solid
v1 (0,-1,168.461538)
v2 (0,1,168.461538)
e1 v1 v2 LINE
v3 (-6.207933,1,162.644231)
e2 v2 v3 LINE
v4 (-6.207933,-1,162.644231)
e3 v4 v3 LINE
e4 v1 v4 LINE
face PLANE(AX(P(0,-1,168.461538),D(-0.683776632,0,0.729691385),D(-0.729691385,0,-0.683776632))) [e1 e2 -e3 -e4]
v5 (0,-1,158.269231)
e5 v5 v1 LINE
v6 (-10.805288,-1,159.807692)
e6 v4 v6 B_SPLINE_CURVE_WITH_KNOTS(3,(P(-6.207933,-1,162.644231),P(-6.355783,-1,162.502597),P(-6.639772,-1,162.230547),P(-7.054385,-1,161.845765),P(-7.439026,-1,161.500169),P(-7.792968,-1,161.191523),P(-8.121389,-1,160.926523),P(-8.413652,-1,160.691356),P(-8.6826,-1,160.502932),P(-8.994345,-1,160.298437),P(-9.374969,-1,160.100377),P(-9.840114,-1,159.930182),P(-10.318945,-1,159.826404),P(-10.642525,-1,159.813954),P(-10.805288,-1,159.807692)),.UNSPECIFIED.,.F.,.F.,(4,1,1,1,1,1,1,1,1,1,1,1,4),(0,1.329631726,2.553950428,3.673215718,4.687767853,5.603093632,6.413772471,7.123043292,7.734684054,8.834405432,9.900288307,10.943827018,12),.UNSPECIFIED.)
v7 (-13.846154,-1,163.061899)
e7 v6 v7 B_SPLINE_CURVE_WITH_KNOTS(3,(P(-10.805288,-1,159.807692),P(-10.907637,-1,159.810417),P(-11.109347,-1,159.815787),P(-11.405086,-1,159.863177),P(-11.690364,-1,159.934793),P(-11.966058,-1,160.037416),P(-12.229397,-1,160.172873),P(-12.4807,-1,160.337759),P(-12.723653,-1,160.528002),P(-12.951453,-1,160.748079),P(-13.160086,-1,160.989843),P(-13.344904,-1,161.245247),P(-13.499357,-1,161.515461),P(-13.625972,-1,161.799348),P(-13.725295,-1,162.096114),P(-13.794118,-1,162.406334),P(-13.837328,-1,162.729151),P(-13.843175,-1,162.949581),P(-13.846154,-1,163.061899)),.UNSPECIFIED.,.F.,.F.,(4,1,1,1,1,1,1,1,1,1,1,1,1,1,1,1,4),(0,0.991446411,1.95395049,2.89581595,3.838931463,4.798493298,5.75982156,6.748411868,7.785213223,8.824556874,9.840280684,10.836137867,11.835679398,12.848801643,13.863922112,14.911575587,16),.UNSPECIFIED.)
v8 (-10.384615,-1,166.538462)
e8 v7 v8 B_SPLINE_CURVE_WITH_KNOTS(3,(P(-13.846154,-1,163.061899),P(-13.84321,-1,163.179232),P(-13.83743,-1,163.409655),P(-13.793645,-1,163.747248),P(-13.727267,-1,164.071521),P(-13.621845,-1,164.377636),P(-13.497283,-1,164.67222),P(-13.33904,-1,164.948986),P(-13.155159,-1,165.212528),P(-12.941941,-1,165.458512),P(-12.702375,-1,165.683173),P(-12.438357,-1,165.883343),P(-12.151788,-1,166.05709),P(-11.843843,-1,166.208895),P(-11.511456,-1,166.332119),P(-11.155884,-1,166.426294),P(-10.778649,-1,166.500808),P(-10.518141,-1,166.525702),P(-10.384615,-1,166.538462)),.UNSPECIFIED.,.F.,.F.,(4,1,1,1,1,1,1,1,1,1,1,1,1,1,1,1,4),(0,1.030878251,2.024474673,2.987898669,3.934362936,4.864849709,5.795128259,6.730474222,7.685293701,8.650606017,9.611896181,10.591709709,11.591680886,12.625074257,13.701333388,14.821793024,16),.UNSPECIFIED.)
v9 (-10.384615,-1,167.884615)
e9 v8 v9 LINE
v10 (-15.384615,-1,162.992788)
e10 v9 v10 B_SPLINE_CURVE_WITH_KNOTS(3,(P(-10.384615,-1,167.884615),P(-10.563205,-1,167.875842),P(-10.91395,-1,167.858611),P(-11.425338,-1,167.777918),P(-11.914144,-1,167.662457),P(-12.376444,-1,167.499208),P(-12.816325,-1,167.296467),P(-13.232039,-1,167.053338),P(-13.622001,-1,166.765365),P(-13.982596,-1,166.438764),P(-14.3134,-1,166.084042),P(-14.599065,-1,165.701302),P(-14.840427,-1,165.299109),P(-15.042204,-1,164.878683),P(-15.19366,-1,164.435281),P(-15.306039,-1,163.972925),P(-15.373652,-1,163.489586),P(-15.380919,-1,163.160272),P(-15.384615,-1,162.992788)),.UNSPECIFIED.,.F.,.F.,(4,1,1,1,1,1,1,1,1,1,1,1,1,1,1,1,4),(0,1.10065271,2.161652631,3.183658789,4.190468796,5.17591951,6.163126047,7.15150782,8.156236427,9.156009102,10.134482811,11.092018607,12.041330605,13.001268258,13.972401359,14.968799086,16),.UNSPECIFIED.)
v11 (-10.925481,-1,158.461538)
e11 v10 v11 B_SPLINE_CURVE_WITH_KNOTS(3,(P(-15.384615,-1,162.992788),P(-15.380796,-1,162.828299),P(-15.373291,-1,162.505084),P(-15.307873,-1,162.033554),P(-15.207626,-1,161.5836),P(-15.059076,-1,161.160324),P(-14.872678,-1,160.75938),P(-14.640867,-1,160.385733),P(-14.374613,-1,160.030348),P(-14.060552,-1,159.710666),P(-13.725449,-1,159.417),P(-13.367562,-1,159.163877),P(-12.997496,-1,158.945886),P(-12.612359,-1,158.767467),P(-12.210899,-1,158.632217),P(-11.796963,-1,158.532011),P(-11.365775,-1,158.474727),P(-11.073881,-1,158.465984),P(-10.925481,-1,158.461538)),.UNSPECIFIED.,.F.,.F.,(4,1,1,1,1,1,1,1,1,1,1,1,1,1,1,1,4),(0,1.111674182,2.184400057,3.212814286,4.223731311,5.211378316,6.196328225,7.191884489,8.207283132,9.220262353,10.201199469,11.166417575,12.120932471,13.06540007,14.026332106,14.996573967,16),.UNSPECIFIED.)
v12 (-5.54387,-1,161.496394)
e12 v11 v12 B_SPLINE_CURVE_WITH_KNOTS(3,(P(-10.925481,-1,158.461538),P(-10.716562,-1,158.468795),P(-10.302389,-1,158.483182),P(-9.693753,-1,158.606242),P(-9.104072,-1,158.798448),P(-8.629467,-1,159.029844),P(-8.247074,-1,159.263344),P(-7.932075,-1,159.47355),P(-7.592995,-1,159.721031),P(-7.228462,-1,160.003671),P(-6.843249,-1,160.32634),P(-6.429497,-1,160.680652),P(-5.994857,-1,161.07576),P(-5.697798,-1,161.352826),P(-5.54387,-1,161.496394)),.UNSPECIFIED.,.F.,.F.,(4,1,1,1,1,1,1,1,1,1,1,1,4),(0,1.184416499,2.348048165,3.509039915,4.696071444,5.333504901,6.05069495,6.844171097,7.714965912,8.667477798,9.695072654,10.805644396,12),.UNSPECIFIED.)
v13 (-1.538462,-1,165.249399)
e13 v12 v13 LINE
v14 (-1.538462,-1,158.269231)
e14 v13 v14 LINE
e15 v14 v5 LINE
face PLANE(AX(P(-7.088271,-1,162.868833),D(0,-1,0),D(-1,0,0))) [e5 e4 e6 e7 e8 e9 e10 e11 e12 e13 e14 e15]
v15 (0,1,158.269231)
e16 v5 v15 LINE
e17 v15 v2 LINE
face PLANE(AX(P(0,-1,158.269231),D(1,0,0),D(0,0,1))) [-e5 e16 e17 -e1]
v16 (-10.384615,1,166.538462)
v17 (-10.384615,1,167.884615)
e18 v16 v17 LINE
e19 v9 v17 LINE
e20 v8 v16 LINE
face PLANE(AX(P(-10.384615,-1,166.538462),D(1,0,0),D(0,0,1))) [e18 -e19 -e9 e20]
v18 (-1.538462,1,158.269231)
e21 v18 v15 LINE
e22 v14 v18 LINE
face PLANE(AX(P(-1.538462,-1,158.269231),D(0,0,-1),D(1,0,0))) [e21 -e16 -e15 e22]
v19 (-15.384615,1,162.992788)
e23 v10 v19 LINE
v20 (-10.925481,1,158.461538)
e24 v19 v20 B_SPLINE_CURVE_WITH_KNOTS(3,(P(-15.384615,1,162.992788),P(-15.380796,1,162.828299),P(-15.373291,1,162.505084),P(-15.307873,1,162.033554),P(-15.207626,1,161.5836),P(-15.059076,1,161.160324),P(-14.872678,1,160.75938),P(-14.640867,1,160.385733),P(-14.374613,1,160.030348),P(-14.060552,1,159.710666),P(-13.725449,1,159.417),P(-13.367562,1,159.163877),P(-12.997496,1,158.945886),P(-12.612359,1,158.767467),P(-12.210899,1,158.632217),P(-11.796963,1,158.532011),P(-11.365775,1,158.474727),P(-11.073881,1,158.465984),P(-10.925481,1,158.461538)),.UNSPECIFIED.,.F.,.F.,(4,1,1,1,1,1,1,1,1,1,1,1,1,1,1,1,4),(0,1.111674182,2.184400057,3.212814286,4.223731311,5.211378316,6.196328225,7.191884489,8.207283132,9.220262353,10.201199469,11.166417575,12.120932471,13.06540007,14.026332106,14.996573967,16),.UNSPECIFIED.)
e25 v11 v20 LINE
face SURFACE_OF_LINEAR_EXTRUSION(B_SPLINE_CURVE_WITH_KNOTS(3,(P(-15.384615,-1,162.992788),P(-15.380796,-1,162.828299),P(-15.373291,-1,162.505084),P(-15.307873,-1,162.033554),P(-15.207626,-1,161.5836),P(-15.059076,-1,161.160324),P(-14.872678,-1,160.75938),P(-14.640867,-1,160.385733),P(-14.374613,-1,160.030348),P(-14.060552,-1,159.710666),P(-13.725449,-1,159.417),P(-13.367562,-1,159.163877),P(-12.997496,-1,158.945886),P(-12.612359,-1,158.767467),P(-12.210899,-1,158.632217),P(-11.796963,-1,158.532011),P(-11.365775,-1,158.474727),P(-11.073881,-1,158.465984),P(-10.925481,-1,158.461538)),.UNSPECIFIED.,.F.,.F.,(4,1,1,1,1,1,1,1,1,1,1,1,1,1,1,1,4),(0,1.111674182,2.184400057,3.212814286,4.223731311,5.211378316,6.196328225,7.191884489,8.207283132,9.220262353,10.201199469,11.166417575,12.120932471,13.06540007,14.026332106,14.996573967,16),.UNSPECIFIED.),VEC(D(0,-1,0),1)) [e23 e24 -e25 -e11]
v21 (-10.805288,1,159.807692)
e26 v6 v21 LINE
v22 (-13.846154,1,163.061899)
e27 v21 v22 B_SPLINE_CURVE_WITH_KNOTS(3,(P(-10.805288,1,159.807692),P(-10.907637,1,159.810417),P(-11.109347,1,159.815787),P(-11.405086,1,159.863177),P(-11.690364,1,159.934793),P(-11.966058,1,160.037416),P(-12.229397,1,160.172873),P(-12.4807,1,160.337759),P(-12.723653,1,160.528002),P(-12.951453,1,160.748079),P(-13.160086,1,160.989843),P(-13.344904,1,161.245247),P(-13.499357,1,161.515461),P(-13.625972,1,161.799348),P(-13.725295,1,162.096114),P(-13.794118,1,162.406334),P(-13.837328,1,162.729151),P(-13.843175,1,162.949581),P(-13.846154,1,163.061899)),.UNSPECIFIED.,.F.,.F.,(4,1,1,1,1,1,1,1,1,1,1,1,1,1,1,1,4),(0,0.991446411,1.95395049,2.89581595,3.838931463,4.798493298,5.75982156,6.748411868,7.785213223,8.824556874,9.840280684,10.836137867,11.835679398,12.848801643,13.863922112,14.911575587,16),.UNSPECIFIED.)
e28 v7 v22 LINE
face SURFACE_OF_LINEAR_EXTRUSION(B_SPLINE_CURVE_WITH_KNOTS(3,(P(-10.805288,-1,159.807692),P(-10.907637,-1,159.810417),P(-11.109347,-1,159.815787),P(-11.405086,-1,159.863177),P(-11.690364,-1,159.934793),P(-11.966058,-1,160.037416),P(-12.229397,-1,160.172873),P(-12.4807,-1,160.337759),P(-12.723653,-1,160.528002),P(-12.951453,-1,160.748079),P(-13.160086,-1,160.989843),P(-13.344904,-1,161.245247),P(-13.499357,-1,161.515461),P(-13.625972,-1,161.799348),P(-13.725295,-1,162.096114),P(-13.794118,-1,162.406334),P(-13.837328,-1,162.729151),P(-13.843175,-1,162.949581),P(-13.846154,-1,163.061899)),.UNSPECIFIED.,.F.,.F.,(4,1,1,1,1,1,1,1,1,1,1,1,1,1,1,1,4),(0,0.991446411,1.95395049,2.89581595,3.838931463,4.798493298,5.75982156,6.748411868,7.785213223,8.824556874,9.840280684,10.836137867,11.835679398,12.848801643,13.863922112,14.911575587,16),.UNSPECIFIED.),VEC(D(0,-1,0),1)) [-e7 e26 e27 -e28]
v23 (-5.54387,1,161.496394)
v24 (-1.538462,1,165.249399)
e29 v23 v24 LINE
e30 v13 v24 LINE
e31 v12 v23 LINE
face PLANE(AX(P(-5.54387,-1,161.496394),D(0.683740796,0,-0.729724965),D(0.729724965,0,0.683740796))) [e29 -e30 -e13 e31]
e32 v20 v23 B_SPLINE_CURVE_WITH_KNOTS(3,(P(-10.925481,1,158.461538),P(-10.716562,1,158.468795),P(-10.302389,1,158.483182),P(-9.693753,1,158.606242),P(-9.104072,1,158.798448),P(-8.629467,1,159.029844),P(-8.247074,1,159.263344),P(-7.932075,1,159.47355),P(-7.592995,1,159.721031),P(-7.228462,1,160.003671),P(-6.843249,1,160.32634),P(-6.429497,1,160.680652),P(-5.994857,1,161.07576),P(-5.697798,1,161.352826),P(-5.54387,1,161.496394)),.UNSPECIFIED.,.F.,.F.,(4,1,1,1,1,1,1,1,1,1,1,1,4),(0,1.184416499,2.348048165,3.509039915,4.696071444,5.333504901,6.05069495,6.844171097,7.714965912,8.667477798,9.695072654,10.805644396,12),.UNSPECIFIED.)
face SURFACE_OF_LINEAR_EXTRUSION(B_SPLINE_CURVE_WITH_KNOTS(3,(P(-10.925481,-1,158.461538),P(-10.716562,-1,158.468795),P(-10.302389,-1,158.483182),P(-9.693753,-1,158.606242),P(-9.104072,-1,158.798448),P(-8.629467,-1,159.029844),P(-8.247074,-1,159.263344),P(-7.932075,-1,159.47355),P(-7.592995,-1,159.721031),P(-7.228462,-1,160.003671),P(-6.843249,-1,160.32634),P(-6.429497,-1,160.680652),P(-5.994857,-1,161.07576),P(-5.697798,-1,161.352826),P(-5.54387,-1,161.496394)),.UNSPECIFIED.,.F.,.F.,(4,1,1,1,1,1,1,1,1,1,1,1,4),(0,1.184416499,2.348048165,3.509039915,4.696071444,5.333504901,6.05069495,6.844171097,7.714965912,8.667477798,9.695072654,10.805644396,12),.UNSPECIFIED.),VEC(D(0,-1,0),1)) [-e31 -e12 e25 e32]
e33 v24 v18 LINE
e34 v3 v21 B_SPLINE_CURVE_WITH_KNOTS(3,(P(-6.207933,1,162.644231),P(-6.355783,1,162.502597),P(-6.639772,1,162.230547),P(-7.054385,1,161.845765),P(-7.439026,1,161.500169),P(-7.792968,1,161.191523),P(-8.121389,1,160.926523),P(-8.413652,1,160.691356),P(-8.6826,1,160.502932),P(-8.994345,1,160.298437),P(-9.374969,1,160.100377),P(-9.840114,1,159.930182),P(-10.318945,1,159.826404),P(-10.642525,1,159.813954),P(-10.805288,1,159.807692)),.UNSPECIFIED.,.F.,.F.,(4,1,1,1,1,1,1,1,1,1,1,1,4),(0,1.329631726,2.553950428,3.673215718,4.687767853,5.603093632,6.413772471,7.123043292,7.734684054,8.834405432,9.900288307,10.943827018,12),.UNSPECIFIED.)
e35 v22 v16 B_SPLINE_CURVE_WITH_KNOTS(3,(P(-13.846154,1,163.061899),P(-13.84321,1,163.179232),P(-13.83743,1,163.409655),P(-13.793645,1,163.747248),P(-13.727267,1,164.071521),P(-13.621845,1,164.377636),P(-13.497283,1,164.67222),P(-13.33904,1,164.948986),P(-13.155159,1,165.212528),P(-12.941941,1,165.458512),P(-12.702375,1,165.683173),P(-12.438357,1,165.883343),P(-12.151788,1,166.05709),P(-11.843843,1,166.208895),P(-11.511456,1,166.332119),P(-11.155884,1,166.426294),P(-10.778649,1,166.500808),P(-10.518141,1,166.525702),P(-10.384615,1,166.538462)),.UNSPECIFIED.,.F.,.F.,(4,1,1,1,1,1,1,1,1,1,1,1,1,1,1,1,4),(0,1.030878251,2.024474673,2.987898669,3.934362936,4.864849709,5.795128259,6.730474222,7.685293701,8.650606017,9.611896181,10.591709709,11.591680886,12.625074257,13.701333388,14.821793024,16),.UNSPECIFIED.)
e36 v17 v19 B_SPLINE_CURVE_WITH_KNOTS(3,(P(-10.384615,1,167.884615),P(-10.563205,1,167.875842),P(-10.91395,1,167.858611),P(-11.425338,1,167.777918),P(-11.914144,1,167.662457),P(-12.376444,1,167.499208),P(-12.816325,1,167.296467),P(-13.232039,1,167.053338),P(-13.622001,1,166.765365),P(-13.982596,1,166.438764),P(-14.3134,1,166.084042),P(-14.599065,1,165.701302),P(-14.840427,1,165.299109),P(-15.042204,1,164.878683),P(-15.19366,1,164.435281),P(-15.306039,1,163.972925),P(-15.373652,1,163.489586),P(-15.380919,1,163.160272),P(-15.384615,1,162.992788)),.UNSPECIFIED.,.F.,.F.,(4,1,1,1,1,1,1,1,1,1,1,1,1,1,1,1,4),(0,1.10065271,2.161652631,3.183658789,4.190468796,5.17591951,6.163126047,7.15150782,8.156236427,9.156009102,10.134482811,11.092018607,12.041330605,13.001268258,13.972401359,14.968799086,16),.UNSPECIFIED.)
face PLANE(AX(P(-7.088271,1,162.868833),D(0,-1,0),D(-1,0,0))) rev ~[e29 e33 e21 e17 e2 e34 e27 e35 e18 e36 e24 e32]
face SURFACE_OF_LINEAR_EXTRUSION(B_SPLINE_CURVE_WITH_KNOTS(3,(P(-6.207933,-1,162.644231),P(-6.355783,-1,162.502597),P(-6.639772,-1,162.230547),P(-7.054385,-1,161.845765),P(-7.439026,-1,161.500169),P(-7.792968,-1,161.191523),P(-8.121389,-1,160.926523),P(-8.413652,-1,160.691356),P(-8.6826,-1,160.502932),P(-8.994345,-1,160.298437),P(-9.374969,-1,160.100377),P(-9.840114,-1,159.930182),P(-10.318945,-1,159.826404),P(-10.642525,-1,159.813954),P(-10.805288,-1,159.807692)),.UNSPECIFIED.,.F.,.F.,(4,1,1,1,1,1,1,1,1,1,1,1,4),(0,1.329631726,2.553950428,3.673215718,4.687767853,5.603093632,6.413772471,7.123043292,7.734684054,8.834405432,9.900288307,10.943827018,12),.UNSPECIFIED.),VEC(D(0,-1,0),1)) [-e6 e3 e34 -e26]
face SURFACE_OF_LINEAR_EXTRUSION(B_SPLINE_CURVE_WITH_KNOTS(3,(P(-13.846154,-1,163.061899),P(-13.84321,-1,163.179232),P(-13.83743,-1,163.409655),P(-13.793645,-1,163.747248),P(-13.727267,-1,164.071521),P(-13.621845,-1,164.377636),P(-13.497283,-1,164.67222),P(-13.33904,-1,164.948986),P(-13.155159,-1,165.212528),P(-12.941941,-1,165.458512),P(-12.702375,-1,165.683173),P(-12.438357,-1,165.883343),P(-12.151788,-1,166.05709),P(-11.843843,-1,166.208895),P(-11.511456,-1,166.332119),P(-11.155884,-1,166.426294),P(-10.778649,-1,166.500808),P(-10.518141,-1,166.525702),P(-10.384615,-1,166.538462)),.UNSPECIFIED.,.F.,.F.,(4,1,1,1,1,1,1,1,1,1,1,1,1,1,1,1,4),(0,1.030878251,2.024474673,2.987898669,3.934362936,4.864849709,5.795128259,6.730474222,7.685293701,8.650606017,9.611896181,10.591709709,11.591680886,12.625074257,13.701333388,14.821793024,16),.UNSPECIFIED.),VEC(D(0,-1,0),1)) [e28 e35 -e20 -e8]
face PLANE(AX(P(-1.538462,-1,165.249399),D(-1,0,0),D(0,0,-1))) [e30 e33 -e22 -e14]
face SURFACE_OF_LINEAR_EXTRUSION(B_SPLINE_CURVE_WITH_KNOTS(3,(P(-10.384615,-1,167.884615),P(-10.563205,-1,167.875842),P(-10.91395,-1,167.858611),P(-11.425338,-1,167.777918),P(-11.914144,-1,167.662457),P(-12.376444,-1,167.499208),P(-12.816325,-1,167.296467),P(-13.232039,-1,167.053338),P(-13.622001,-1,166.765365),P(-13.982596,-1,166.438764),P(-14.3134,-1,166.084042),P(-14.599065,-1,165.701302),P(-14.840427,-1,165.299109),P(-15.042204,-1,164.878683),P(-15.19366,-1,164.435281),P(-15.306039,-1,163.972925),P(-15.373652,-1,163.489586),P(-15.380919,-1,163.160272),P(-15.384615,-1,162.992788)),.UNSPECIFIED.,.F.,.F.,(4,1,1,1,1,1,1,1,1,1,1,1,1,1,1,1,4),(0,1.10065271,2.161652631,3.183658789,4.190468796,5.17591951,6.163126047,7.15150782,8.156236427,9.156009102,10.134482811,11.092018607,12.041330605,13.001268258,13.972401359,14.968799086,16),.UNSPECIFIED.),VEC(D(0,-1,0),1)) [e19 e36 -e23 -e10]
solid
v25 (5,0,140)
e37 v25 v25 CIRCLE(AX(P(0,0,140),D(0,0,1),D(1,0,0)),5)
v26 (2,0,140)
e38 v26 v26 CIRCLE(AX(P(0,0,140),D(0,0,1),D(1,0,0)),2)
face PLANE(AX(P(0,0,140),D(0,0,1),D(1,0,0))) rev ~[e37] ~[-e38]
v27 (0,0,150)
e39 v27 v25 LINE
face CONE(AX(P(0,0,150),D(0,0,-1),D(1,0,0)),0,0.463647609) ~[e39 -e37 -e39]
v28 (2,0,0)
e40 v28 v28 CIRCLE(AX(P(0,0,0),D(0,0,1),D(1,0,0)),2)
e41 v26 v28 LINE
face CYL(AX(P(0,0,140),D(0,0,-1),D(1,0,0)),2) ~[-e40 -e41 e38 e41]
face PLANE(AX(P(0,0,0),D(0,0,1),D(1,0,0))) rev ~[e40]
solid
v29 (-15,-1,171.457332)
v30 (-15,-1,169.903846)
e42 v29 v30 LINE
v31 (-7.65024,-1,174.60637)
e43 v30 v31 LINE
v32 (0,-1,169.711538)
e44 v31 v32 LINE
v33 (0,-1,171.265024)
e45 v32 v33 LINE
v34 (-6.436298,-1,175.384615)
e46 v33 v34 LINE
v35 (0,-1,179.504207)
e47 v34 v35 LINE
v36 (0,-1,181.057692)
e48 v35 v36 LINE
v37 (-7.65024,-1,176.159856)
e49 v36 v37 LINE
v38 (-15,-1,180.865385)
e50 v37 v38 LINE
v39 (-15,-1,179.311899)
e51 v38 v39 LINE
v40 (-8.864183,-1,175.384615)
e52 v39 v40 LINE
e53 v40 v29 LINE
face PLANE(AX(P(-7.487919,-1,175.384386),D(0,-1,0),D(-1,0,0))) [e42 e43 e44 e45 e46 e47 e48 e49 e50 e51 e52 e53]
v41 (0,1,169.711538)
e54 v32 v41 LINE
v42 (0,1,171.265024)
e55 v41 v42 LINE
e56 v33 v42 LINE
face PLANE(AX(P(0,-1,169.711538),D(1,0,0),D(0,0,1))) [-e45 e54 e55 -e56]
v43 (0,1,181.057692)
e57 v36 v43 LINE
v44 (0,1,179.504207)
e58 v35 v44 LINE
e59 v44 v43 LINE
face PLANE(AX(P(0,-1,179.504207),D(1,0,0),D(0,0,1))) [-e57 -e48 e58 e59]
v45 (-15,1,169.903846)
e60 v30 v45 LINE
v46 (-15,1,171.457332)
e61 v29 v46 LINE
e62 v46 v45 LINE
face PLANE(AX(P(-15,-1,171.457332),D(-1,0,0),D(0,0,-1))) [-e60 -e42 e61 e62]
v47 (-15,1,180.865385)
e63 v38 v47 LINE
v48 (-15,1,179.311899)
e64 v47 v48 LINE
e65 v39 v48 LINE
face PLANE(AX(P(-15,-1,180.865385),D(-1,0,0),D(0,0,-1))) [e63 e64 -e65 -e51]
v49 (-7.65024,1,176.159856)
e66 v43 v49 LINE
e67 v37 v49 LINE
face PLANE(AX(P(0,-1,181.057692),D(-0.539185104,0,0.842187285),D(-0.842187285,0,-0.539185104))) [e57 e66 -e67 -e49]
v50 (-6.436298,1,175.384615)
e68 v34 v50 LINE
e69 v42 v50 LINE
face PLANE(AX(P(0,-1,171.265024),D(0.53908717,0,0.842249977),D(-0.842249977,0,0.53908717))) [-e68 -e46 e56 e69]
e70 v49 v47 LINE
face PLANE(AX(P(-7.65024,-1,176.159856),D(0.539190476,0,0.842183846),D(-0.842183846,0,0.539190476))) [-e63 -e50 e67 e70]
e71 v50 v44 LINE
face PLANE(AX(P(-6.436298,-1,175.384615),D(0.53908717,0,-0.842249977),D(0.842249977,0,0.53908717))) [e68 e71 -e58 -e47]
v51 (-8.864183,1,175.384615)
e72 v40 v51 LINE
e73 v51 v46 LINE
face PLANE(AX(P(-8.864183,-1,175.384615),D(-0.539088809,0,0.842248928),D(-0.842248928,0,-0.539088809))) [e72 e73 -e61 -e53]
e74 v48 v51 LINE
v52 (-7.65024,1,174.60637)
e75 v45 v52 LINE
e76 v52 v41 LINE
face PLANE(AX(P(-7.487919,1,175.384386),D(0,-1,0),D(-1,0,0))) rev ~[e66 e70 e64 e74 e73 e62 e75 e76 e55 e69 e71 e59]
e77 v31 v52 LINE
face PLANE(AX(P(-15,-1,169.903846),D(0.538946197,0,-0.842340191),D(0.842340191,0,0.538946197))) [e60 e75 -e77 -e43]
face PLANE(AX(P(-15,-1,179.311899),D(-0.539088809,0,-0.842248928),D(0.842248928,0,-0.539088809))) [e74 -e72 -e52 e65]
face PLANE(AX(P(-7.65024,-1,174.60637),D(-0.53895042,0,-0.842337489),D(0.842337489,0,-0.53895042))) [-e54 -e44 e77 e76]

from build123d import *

# Parameters (mm, degrees)
BOSS_EXTRUDE1_DEPTH        = 1
BOSS_EXTRUDE1_DEPTH_BACK   = 1
BOSS_EXTRUDE1_2_DEPTH      = 1
BOSS_EXTRUDE1_2_DEPTH_BACK = 1


with BuildPart() as part:
    # Sketch2 → Revolve1 (revolve)
    with BuildSketch(Plane(origin=(0, 0, 0), x_dir=(1, 0, 0), z_dir=(0, 1, 0))):
        Polygon((0, -150), (5, -140), (2, -140), (2, 0), (0, 0), align=None)
    revolve(axis=Axis((0, 0, -41.949952025), (0, 0, 1)))


with BuildPart() as body_2:
    # Sketch3 → Boss-Extrude1 (new, two sides: drawn at the far end of the back side and taken through both)
    with BuildSketch(Plane(origin=(0, 0, 0), x_dir=(1, 0, 0), z_dir=(0, 1, 0)).offset(-BOSS_EXTRUDE1_DEPTH_BACK)):
        with BuildLine():
            Line((-10.384615385, -166.538461538), (-10.384615385, -167.884615385))
            add(Edge.make_bspline(
                [(-10.384615385, -167.884615385), (-10.563204904, -167.875841872), (-10.913949966, -167.858610926), (-11.425338136, -167.777918258), (-11.914144417, -167.662457355), (-12.376444048, -167.499208267), (-12.81632465, -167.296467076), (-13.232039003, -167.053338387), (-13.622001241, -166.765364742), (-13.982596283, -166.438764454), (-14.313400158, -166.084041715), (-14.599065485, -165.701301974), (-14.840426933, -165.299109), (-15.042203684, -164.878683005), (-15.193660166, -164.435280589), (-15.306038622, -163.972925484), (-15.373651532, -163.489586328), (-15.380919185, -163.160271948), (-15.384615385, -162.992788462)],
                knots=[0, 0, 0, 0, 1.10065271, 2.161652631, 3.183658789, 4.190468796, 5.17591951, 6.163126047, 7.15150782, 8.156236427, 9.156009102, 10.134482811, 11.092018607, 12.041330605, 13.001268258, 13.972401359, 14.968799086, 16, 16, 16, 16], degree=3))
            add(Edge.make_bspline(
                [(-15.384615385, -162.992788462), (-15.380796104, -162.828299426), (-15.373291355, -162.505084348), (-15.307873473, -162.033553745), (-15.207626401, -161.583600463), (-15.059076032, -161.160323818), (-14.872677813, -160.759379802), (-14.640867206, -160.385732767), (-14.37461271, -160.030347538), (-14.060552476, -159.710665804), (-13.725449413, -159.416999565), (-13.367562158, -159.163877022), (-12.997495718, -158.945885897), (-12.612359334, -158.76746697), (-12.210898815, -158.632217489), (-11.7969631, -158.532010585), (-11.365775091, -158.474726904), (-11.073881456, -158.465983611), (-10.925480769, -158.461538462)],
                knots=[0, 0, 0, 0, 1.111674182, 2.184400057, 3.212814286, 4.223731311, 5.211378316, 6.196328225, 7.191884489, 8.207283132, 9.220262353, 10.201199469, 11.166417575, 12.120932471, 13.06540007, 14.026332106, 14.996573967, 16, 16, 16, 16], degree=3))
            add(Edge.make_bspline(
                [(-10.925480769, -158.461538462), (-10.716561568, -158.468795416), (-10.302389402, -158.483181977), (-9.693752958, -158.606241919), (-9.104071894, -158.798447615), (-8.629467281, -159.02984435), (-8.247074226, -159.263343584), (-7.93207523, -159.47354984), (-7.592995253, -159.721030517), (-7.228461871, -160.003671248), (-6.843248958, -160.326339507), (-6.429497135, -160.680652418), (-5.994856958, -161.075760232), (-5.697798463, -161.352825797), (-5.543870192, -161.496394231)],
                knots=[0, 0, 0, 0, 1.184416499, 2.348048165, 3.509039915, 4.696071444, 5.333504901, 6.05069495, 6.844171097, 7.714965912, 8.667477798, 9.695072654, 10.805644396, 12, 12, 12, 12], degree=3))
            Line((-5.543870192, -161.496394231), (-1.538461538, -165.249399038))
            Line((-1.538461538, -165.249399038), (-1.538461538, -158.269230769))
            Line((-1.538461538, -158.269230769), (0, -158.269230769))
            Line((0, -158.269230769), (0, -168.461538462))
            Line((0, -168.461538462), (-6.207932692, -162.644230769))
            add(Edge.make_bspline(
                [(-6.207932692, -162.644230769), (-6.355782578, -162.502596969), (-6.639771949, -162.230547424), (-7.054384635, -161.845764952), (-7.439025524, -161.500169288), (-7.792967874, -161.191523319), (-8.121388879, -160.926522581), (-8.413651895, -160.691355873), (-8.682599539, -160.502931912), (-8.994345027, -160.298437359), (-9.374969243, -160.100377438), (-9.840113626, -159.930181627), (-10.318944709, -159.826403705), (-10.642524868, -159.81395441), (-10.805288462, -159.807692308)],
                knots=[0, 0, 0, 0, 1.329631726, 2.553950428, 3.673215718, 4.687767853, 5.603093632, 6.413772471, 7.123043292, 7.734684054, 8.834405432, 9.900288307, 10.943827018, 12, 12, 12, 12], degree=3))
            add(Edge.make_bspline(
                [(-10.805288462, -159.807692308), (-10.907637312, -159.810416918), (-11.109347242, -159.8157866), (-11.405086209, -159.863176732), (-11.690363983, -159.934793187), (-11.966058065, -160.037415722), (-12.229396573, -160.172873179), (-12.48070006, -160.337759093), (-12.723652768, -160.528002222), (-12.951452617, -160.748079091), (-13.160086355, -160.989842747), (-13.344903864, -161.245246674), (-13.499357196, -161.515461406), (-13.625972184, -161.799347644), (-13.725295246, -162.096113942), (-13.794117729, -162.406334278), (-13.837328375, -162.72915149), (-13.843174826, -162.949580758), (-13.846153846, -163.061899038)],
                knots=[0, 0, 0, 0, 0.991446411, 1.95395049, 2.89581595, 3.838931463, 4.798493298, 5.75982156, 6.748411868, 7.785213223, 8.824556874, 9.840280684, 10.836137867, 11.835679398, 12.848801643, 13.863922112, 14.911575587, 16, 16, 16, 16], degree=3))
            add(Edge.make_bspline(
                [(-13.846153846, -163.061899038), (-13.843210339, -163.17923205), (-13.837429778, -163.409654711), (-13.793644926, -163.747248098), (-13.727267069, -164.07152127), (-13.621844545, -164.377635783), (-13.497282594, -164.672220352), (-13.339040059, -164.948986061), (-13.155158717, -165.21252807), (-12.941940801, -165.458511623), (-12.702375061, -165.683172895), (-12.438357077, -165.883342841), (-12.151787569, -166.057090331), (-11.843842673, -166.208895124), (-11.511456406, -166.332119496), (-11.155884194, -166.426294196), (-10.778648675, -166.500808117), (-10.518141312, -166.525701936), (-10.384615385, -166.538461538)],
                knots=[0, 0, 0, 0, 1.030878251, 2.024474673, 2.987898669, 3.934362936, 4.864849709, 5.795128259, 6.730474222, 7.685293701, 8.650606017, 9.611896181, 10.591709709, 11.591680886, 12.625074257, 13.701333388, 14.821793024, 16, 16, 16, 16], degree=3))
        make_face()
    extrude(amount=BOSS_EXTRUDE1_DEPTH + BOSS_EXTRUDE1_DEPTH_BACK)


with BuildPart() as body_3:
    # Sketch3 → Boss-Extrude1 2 (new, two sides: drawn at the far end of the back side and taken through both)
    with BuildSketch(Plane(origin=(0, 0, 0), x_dir=(1, 0, 0), z_dir=(0, 1, 0)).offset(-BOSS_EXTRUDE1_2_DEPTH_BACK)):
        Polygon((-15, -180.865384615), (-15, -179.311899038), (-8.864182692, -175.384615385), (-15, -171.457331731), (-15, -169.903846154), (-7.650240385, -174.606370192), (0, -169.711538462), (0, -171.265024038), (-6.436298077, -175.384615385), (0, -179.504206731), (0, -181.057692308), (-7.650240385, -176.159855769), align=None)
    extrude(amount=BOSS_EXTRUDE1_2_DEPTH + BOSS_EXTRUDE1_2_DEPTH_BACK)


solid = Compound([part.part, body_2.part, body_3.part])
